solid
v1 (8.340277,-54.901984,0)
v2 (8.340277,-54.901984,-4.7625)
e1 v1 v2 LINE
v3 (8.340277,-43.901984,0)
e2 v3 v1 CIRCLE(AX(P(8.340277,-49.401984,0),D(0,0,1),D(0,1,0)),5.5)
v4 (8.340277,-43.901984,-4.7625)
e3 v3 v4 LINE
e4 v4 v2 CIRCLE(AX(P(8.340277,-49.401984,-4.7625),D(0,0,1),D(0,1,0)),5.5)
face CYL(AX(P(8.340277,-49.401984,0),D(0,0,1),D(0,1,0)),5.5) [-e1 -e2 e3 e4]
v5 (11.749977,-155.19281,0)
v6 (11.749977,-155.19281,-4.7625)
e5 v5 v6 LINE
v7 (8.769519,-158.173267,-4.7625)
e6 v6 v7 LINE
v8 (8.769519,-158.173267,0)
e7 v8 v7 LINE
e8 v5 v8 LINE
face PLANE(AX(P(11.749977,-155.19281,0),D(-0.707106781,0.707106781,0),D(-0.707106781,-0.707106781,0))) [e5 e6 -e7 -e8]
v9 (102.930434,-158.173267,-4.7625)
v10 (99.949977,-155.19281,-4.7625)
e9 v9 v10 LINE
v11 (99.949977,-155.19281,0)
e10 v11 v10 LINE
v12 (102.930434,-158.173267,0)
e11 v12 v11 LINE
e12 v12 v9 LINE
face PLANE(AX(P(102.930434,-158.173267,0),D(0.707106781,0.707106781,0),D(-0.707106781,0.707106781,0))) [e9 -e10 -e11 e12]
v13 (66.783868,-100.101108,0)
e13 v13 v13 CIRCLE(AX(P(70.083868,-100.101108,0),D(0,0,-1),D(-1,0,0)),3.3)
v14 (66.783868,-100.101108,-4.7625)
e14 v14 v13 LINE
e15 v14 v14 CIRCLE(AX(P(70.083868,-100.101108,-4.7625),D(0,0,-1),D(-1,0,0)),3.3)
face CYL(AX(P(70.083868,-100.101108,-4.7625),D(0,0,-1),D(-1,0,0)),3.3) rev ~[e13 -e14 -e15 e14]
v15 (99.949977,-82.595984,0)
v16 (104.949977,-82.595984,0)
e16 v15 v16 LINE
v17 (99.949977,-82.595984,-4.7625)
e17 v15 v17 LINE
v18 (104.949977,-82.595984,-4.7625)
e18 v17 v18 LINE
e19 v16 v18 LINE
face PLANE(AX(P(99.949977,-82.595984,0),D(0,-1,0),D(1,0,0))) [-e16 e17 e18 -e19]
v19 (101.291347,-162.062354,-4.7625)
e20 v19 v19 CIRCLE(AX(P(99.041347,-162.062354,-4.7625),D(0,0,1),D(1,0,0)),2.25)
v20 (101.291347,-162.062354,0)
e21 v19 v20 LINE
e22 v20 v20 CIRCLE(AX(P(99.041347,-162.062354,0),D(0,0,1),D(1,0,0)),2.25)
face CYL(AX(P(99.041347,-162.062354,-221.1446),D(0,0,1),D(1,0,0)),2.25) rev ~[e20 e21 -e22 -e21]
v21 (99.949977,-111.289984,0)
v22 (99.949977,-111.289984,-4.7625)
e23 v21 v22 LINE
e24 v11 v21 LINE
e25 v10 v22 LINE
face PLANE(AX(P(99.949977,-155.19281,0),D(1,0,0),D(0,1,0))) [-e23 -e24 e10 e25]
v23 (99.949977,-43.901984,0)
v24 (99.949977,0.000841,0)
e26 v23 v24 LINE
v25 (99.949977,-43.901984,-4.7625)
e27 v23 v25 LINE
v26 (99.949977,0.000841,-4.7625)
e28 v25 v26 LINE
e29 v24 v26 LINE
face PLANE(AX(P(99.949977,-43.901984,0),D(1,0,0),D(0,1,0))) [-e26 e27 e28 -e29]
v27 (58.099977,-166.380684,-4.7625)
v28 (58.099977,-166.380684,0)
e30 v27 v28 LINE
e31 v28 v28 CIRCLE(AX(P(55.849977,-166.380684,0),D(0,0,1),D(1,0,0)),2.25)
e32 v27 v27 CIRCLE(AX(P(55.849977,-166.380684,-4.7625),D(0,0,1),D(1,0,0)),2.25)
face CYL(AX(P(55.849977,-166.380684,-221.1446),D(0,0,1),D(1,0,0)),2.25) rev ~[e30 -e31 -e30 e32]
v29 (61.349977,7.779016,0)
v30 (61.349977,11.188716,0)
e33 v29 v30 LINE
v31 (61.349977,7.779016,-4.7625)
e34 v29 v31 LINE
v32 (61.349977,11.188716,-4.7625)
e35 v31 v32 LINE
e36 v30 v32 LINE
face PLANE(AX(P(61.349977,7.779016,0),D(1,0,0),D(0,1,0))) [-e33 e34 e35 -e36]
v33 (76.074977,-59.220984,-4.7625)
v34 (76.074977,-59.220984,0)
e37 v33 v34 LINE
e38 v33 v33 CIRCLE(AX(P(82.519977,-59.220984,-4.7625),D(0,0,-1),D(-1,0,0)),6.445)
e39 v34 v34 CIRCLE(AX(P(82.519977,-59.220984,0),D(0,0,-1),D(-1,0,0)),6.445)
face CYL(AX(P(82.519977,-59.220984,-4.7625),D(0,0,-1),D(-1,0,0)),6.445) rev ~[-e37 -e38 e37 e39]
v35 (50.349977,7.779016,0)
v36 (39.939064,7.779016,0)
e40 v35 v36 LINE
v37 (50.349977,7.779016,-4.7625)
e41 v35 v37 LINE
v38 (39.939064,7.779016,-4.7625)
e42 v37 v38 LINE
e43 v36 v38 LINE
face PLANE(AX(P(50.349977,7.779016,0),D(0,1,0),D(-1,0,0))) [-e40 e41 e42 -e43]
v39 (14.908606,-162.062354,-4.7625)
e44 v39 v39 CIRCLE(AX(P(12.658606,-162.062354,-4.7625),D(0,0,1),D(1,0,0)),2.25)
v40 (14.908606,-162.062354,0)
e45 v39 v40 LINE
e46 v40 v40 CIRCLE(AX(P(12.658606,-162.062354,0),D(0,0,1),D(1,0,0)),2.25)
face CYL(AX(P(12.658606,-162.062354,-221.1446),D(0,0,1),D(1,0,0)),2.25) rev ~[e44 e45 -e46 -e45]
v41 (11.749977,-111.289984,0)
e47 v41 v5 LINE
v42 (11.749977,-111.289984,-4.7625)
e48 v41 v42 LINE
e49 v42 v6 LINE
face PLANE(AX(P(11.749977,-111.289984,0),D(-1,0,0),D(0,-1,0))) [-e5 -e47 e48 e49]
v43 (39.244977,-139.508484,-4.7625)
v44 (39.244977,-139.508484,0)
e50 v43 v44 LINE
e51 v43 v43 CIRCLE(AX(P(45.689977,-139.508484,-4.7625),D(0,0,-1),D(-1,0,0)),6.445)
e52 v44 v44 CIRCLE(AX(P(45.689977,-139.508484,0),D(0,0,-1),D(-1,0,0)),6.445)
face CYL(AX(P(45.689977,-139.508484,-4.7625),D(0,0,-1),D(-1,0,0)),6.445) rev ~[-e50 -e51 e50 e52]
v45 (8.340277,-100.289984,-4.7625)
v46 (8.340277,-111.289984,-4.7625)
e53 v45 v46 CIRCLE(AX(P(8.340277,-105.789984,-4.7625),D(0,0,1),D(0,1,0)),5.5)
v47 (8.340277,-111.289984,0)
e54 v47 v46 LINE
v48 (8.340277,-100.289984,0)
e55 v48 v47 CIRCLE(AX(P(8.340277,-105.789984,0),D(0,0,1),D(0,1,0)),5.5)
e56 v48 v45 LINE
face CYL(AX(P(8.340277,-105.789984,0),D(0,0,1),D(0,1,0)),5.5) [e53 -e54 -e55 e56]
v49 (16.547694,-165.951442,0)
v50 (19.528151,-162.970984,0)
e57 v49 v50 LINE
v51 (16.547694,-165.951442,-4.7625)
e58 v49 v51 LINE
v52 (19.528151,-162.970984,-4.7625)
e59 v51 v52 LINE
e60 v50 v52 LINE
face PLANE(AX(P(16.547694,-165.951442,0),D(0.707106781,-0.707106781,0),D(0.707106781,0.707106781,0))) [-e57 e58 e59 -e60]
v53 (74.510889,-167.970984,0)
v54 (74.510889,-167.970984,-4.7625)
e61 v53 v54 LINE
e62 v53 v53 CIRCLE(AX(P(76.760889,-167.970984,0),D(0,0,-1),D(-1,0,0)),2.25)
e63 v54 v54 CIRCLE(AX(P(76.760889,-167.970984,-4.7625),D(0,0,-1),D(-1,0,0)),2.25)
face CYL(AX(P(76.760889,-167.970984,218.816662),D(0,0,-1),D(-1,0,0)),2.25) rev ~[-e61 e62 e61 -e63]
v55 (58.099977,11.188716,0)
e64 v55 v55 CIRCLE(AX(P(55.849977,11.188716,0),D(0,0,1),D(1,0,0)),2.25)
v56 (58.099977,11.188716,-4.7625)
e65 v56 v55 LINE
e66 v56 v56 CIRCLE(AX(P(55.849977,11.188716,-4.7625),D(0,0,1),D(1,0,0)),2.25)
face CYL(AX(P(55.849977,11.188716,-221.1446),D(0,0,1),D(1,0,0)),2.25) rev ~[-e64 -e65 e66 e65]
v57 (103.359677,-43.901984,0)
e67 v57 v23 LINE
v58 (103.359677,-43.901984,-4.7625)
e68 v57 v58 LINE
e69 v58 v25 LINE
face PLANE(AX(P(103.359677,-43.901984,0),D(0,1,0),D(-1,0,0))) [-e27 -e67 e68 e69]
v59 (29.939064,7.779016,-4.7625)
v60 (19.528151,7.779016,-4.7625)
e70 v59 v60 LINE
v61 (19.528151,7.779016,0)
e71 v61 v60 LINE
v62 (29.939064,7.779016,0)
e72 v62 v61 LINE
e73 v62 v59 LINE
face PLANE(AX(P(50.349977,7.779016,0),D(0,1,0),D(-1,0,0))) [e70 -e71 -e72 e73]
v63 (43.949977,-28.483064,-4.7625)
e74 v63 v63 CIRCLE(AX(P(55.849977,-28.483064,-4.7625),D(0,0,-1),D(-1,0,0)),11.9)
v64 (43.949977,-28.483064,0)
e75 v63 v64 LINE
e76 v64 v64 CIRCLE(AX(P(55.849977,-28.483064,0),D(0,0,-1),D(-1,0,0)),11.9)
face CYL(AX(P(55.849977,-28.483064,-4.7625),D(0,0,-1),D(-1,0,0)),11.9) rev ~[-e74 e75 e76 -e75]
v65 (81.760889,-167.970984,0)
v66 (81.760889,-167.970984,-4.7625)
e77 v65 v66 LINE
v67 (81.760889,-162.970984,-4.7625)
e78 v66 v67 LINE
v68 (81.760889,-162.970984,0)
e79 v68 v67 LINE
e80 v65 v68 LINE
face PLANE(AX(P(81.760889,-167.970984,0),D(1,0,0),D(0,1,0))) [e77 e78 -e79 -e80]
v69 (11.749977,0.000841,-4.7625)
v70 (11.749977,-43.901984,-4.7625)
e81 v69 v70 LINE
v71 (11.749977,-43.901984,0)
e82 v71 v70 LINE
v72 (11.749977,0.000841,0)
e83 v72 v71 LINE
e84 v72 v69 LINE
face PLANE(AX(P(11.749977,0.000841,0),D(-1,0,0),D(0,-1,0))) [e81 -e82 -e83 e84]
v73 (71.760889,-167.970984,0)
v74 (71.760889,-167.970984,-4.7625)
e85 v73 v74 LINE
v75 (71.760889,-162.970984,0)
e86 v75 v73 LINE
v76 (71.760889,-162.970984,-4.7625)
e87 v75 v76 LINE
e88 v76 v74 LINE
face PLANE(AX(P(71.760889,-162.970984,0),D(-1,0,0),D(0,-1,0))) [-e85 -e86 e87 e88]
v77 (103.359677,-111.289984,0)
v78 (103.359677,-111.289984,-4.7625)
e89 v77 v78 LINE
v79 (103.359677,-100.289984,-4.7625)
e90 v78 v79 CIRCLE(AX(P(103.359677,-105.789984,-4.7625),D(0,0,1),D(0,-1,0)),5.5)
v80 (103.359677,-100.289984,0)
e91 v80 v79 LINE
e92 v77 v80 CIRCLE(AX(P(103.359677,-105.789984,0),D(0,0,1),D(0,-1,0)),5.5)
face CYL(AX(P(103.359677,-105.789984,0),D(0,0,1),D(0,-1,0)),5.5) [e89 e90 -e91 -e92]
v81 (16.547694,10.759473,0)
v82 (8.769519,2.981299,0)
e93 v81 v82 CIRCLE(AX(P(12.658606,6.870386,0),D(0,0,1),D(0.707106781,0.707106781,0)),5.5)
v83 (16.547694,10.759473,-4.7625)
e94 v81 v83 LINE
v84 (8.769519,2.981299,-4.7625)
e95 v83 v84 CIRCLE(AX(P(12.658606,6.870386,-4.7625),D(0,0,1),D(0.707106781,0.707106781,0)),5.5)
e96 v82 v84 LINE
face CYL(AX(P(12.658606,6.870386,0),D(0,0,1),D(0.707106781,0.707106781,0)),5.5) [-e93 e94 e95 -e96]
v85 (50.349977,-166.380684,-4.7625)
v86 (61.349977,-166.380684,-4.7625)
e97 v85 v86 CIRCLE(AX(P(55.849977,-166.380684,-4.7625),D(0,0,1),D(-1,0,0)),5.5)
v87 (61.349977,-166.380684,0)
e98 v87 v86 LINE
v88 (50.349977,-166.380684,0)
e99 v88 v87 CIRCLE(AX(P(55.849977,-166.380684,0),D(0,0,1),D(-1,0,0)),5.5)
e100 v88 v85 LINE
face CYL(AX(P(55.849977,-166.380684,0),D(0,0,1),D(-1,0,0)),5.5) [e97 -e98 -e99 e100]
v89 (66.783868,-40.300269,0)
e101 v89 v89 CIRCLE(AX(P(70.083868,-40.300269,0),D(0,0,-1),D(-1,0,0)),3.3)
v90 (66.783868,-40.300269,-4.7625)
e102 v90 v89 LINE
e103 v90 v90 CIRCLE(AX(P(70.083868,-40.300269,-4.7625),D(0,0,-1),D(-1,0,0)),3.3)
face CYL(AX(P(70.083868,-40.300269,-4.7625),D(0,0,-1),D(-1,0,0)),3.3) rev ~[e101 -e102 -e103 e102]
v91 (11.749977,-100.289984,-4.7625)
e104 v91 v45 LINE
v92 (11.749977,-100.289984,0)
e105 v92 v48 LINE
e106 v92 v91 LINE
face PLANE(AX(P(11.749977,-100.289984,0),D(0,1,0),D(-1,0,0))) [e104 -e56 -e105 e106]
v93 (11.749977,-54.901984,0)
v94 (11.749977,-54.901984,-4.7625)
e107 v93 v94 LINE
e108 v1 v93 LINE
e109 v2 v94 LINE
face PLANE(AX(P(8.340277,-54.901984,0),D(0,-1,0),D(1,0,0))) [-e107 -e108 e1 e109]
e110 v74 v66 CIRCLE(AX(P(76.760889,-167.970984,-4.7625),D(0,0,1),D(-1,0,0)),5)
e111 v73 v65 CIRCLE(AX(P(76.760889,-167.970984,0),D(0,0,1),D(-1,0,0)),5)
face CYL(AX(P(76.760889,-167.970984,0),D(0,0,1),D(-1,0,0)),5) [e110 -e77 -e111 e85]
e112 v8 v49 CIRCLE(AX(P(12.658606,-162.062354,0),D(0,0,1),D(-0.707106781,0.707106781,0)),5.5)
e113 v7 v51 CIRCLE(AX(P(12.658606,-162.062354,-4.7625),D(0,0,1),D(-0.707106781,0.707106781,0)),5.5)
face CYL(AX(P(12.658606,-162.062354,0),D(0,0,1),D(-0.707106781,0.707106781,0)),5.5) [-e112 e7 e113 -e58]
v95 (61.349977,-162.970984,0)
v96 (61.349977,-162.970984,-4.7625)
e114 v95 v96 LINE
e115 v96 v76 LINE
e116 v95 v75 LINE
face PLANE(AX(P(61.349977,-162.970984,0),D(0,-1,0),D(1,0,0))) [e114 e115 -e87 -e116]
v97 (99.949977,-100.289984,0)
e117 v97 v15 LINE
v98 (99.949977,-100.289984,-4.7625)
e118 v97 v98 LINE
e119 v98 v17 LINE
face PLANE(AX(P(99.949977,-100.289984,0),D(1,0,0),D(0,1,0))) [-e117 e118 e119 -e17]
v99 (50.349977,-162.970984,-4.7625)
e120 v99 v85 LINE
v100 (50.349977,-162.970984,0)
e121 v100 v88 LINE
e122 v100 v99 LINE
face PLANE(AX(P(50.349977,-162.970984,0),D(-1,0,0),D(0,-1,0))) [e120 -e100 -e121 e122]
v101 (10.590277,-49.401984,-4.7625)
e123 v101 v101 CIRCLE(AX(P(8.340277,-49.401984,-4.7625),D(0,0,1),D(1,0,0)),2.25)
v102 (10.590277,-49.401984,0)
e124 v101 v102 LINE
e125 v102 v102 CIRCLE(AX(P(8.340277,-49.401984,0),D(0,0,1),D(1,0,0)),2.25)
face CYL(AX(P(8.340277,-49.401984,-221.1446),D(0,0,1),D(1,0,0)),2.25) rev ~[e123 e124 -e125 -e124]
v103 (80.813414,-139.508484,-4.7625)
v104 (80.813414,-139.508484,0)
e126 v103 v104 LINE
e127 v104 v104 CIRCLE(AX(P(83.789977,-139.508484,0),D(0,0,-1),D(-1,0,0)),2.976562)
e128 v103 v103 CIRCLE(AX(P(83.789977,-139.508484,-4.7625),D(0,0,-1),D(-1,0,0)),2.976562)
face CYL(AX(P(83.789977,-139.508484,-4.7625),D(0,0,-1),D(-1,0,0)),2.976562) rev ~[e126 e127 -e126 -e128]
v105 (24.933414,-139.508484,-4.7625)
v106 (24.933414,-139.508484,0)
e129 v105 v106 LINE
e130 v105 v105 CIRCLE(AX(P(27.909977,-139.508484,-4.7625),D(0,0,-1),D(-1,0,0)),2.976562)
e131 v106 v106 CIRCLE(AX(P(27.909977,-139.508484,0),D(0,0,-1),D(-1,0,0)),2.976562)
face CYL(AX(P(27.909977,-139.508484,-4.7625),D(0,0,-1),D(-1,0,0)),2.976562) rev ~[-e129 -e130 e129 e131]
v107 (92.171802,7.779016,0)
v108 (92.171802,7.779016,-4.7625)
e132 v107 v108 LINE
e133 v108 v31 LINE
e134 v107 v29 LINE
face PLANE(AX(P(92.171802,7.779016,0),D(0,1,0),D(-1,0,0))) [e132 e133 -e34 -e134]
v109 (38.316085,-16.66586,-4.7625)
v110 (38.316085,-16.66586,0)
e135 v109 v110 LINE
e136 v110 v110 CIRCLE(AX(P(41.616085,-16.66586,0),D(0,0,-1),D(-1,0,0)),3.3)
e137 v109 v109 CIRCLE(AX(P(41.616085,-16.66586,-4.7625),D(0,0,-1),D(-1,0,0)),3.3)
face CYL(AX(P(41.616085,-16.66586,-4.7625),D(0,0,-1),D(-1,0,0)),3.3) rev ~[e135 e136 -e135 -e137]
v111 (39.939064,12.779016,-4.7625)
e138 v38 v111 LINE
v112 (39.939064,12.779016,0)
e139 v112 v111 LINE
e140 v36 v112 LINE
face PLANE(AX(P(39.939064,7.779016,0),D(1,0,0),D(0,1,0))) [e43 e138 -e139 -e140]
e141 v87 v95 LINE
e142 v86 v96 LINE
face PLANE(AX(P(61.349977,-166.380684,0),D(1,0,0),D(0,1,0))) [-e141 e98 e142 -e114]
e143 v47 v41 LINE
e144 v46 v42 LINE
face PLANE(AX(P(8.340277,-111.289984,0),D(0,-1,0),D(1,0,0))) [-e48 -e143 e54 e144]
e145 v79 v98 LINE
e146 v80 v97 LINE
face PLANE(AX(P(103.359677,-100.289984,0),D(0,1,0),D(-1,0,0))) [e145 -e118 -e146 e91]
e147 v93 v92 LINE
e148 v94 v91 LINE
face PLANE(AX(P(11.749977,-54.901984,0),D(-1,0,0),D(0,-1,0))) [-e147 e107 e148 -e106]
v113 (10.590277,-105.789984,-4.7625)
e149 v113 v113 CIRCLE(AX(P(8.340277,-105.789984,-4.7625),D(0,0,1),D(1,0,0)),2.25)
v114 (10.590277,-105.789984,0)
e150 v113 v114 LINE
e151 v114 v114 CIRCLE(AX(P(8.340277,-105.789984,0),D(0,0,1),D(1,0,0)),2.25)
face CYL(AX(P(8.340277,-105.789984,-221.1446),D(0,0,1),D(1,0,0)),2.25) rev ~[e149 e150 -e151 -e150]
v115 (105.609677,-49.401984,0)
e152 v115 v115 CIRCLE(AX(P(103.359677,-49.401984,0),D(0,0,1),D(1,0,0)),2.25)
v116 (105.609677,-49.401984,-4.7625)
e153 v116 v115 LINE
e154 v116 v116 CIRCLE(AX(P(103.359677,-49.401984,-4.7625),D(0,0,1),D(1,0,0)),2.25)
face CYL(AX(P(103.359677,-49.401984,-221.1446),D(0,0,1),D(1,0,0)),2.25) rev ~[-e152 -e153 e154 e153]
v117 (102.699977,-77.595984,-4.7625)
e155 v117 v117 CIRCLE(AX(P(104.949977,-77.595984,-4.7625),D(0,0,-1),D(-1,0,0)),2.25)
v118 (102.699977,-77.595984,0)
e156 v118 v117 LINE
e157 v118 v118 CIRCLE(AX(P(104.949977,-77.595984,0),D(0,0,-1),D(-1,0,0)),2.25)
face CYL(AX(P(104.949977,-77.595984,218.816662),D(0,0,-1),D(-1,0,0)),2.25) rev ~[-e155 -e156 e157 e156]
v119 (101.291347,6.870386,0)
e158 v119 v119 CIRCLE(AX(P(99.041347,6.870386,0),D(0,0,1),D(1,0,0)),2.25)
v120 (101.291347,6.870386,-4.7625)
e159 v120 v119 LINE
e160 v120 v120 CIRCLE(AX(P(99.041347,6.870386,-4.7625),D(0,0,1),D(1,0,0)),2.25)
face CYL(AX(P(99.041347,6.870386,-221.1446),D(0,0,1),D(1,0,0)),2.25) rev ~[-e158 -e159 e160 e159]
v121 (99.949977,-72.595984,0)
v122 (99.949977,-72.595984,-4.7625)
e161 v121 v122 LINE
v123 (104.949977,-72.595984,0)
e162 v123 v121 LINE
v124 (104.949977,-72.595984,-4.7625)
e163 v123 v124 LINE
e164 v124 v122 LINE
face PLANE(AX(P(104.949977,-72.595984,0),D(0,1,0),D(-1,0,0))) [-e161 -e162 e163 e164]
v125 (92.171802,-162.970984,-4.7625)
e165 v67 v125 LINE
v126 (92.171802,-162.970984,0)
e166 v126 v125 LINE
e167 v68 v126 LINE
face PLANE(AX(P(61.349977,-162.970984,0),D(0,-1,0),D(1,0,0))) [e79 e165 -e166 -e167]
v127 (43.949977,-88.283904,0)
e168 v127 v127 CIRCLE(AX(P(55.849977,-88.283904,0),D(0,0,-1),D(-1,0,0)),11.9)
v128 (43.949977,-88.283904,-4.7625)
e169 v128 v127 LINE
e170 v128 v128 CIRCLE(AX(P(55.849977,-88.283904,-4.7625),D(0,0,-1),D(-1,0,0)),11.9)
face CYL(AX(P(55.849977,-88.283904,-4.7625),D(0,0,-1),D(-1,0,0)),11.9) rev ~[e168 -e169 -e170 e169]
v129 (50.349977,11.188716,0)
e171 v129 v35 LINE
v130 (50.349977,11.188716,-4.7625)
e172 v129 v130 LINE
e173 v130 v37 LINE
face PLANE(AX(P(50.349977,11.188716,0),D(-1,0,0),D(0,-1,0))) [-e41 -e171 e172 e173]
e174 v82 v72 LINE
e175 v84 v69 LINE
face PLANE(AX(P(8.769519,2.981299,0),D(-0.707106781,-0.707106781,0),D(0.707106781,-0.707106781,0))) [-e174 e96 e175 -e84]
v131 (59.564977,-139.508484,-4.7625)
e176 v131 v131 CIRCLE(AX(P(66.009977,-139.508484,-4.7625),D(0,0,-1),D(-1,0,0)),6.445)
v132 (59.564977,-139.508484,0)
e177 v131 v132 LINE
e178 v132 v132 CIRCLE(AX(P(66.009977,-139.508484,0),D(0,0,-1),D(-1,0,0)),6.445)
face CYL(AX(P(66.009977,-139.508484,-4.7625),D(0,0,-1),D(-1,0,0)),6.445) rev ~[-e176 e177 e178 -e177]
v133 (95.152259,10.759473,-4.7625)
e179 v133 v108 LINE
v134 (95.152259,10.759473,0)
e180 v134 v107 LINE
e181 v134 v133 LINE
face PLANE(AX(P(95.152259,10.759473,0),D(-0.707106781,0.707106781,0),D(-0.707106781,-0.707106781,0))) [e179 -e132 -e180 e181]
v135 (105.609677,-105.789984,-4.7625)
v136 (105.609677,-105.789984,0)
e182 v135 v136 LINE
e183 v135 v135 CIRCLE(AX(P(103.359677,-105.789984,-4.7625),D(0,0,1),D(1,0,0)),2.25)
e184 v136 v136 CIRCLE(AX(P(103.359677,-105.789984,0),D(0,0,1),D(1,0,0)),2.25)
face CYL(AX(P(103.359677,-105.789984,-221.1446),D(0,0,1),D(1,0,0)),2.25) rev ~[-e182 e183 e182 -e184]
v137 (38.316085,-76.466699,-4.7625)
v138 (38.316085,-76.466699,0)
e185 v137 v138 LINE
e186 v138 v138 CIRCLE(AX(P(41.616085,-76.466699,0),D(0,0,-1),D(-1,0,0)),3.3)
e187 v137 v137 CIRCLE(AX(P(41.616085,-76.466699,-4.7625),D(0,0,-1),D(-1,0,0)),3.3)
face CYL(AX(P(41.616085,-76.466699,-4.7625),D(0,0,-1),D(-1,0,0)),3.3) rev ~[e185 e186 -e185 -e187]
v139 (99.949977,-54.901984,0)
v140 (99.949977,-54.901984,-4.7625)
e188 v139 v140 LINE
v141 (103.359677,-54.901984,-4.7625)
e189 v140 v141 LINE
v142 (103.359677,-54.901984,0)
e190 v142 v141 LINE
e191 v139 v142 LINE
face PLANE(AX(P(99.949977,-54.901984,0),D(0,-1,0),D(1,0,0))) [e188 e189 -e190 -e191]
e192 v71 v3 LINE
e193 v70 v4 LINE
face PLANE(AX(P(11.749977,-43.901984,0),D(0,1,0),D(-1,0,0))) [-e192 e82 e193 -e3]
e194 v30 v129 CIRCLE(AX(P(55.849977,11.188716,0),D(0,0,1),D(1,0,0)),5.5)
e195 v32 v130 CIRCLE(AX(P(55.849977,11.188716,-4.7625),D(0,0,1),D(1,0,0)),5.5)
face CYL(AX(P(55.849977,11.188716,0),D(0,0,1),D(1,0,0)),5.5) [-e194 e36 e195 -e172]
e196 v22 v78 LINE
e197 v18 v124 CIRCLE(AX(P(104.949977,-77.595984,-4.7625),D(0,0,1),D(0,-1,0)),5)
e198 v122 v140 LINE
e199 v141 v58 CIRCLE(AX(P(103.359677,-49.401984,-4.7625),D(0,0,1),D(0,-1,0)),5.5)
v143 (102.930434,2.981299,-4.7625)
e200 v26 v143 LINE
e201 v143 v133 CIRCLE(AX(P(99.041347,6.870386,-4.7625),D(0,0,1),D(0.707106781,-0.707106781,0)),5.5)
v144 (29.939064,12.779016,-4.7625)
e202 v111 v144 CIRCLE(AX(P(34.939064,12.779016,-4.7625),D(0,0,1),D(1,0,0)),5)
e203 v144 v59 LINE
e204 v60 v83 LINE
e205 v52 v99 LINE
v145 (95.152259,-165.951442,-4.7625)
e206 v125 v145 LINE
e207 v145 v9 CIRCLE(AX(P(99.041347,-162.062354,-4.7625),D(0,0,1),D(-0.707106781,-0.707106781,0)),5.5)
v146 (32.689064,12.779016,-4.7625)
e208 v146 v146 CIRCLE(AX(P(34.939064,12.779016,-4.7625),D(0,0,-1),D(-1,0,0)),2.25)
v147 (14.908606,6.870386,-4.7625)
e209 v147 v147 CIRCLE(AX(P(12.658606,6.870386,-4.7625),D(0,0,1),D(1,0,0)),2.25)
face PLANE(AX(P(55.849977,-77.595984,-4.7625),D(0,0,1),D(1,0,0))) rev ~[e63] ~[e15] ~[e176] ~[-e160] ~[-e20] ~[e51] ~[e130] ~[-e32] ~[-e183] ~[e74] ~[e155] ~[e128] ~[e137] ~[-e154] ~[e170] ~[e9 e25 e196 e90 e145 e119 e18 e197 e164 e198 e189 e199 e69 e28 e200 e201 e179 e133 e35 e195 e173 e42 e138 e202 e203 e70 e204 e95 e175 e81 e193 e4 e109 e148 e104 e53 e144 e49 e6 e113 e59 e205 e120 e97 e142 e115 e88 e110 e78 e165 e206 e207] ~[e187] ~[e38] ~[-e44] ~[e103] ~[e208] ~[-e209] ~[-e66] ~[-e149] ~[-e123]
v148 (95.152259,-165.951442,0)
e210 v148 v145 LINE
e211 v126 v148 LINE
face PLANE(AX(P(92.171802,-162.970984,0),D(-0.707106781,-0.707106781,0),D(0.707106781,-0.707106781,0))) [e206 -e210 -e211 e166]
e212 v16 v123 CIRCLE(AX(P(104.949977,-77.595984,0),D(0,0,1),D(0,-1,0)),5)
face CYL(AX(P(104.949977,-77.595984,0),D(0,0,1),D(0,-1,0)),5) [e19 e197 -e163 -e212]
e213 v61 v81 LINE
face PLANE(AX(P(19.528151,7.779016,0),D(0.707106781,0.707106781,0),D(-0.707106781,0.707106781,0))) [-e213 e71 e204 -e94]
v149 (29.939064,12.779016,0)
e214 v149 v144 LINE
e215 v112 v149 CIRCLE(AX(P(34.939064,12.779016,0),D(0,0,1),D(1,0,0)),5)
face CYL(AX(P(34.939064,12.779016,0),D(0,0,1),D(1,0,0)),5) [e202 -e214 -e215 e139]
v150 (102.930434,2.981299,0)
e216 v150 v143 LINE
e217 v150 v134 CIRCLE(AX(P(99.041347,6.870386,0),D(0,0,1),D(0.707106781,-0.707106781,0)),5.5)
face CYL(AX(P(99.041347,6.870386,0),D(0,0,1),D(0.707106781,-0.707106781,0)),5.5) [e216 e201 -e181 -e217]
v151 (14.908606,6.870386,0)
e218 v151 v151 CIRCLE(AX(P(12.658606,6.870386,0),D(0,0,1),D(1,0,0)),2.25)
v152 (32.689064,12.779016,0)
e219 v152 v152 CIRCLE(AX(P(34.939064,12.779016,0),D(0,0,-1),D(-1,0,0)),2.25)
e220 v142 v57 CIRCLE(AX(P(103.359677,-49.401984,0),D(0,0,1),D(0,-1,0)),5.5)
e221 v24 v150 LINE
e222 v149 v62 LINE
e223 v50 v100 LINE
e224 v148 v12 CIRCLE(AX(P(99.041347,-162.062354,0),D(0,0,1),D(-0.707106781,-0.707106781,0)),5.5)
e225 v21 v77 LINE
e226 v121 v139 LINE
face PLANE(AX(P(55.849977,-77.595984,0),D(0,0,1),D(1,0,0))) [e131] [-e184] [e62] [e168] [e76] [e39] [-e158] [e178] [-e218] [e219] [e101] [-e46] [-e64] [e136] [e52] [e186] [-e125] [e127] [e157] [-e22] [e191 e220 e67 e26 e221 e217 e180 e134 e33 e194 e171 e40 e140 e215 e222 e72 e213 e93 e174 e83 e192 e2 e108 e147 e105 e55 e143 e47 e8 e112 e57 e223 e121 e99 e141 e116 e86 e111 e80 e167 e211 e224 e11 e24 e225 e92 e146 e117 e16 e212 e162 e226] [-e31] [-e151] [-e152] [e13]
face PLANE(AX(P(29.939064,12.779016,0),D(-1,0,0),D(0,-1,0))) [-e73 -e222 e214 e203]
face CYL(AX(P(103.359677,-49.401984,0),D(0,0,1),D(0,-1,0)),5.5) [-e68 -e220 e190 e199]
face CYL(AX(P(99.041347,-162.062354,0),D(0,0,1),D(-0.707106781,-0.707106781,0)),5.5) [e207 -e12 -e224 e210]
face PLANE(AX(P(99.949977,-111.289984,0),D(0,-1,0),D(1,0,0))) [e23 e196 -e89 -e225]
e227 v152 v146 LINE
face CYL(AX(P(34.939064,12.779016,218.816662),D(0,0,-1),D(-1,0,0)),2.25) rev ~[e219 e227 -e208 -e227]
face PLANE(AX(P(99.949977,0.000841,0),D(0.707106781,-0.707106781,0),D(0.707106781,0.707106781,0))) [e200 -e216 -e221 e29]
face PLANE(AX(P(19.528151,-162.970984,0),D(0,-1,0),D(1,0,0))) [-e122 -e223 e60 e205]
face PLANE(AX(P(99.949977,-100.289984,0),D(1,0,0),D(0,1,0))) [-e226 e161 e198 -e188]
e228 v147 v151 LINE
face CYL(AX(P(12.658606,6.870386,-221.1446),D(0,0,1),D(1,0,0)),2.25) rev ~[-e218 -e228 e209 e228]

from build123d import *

# Parameters (mm, degrees)
BOSS_EXTRUDE1_DEPTH  = 4.7625
M4_CLEARANCE_HOLE1_D = 4.5
SKETCH4_R            = 3.3
SKETCH4_R_2          = 2.9765625
SKETCH4_R_3          = 6.445
SKETCH4_R_4          = 11.9
CUT_EXTRUDE1_DEPTH   = 4.7625
BOSS_EXTRUDE3_DEPTH  = 4.7625
M4_CLEARANCE_HOLE2_D = 4.5


with BuildPart() as part:
    # Sketch1 → Boss-Extrude1 (new body)
    with BuildSketch(Plane.XY):
        with BuildLine():
            Line((50.349976536, 7.779015878), (19.528151129, 7.779015878))
            Line((19.528151129, 7.779015878), (16.547693582, 10.759473425))
            ThreePointArc((16.547693582, 10.759473425), (8.769518989, 10.759473425), (8.769518989, 2.981298831))
            Line((8.769518989, 2.981298831), (11.749976536, 0.000841285))
            Line((11.749976536, 0.000841285), (11.749976536, -43.901984122))
            Line((11.749976536, -43.901984122), (8.340276536, -43.901984122))
            ThreePointArc((8.340276536, -43.901984122), (2.840276536, -49.401984122), (8.340276536, -54.901984122))
            Line((8.340276536, -54.901984122), (11.749976536, -54.901984122))
            Line((11.749976536, -54.901984122), (11.749976536, -100.289984122))
            Line((11.749976536, -100.289984122), (8.340276536, -100.289984122))
            ThreePointArc((8.340276536, -100.289984122), (2.840276536, -105.789984122), (8.340276536, -111.289984122))
            Line((8.340276536, -111.289984122), (11.749976536, -111.289984122))
            Line((11.749976536, -111.289984122), (11.749976536, -155.192809529))
            Line((11.749976536, -155.192809529), (8.769518989, -158.173267075))
            ThreePointArc((8.769518989, -158.173267075), (8.769518989, -165.951441668), (16.547693582, -165.951441668))
            Line((16.547693582, -165.951441668), (19.528151129, -162.970984122))
            Line((19.528151129, -162.970984122), (50.349976536, -162.970984122))
            Line((50.349976536, -162.970984122), (50.349976536, -166.380684122))
            ThreePointArc((50.349976536, -166.380684122), (55.849976536, -171.880684122), (61.349976536, -166.380684122))
            Line((61.349976536, -166.380684122), (61.349976536, -162.970984122))
            Line((61.349976536, -162.970984122), (92.171801943, -162.970984122))
            Line((92.171801943, -162.970984122), (95.152259489, -165.951441668))
            ThreePointArc((95.152259489, -165.951441668), (102.930434082, -165.951441668), (102.930434082, -158.173267075))
            Line((102.930434082, -158.173267075), (99.949976536, -155.192809529))
            Line((99.949976536, -155.192809529), (99.949976536, -111.289984122))
            Line((99.949976536, -111.289984122), (103.359676536, -111.289984122))
            ThreePointArc((103.359676536, -111.289984122), (108.859676536, -105.789984122), (103.359676536, -100.289984122))
            Line((103.359676536, -100.289984122), (99.949976536, -100.289984122))
            Line((99.949976536, -100.289984122), (99.949976536, -54.901984122))
            Line((99.949976536, -54.901984122), (103.359676536, -54.901984122))
            ThreePointArc((103.359676536, -54.901984122), (108.859676536, -49.401984122), (103.359676536, -43.901984122))
            Line((103.359676536, -43.901984122), (99.949976536, -43.901984122))
            Line((99.949976536, -43.901984122), (99.949976536, 0.000841285))
            Line((99.949976536, 0.000841285), (102.930434082, 2.981298831))
            ThreePointArc((102.930434082, 2.981298831), (102.930434082, 10.759473425), (95.152259489, 10.759473425))
            Line((95.152259489, 10.759473425), (92.171801943, 7.779015878))
            Line((92.171801943, 7.779015878), (61.349976536, 7.779015878))
            Line((61.349976536, 7.779015878), (61.349976536, 11.188715878))
            ThreePointArc((61.349976536, 11.188715878), (55.849976536, 16.688715878), (50.349976536, 11.188715878))
            Line((50.349976536, 11.188715878), (50.349976536, 7.779015878))
        make_face()
    extrude(amount=-BOSS_EXTRUDE1_DEPTH)

    # M4 Clearance Hole1 (through all)
    with Locations(Plane(origin=(0, 0, -4.7625), x_dir=(-1, 0, 0), z_dir=(0, 0, -1))):
        with Locations((-12.658606286, -162.062354372), (-55.849976536, -166.380684122), (-99.041346785, -162.062354372), (-103.359676536, -105.789984122), (-103.359676536, -49.401984122), (-99.041346785, 6.870386128), (-12.658606286, 6.870386128), (-8.340276536, -49.401984122), (-8.340276536, -105.789984122), (-55.849976536, 11.188715878)):
            Hole(M4_CLEARANCE_HOLE1_D / 2)

    # Sketch4 → Cut-Extrude1 (cut)
    with BuildSketch(Plane(origin=(0, 0, -4.7625), x_dir=(-1, 0, 0), z_dir=(0, 0, -1))):
        with Locations((-41.616084767, -16.665859852)):
            Circle(SKETCH4_R)
        with Locations((-70.083868304, -40.3002691)):
            Circle(SKETCH4_R)
        with Locations((-27.909976536, -139.508484122)):
            Circle(SKETCH4_R_2)
        with Locations((-41.616084767, -76.466699143)):
            Circle(SKETCH4_R)
        with Locations((-83.789976536, -139.508484122)):
            Circle(SKETCH4_R_2)
        with Locations((-70.083868304, -100.101108391)):
            Circle(SKETCH4_R)
        with Locations((-66.009976536, -139.508484122)):
            Circle(SKETCH4_R_3)
        with Locations((-82.519976536, -59.220984122)):
            Circle(SKETCH4_R_3)
        with Locations((-45.689976536, -139.508484122)):
            Circle(SKETCH4_R_3)
        with Locations((-55.849976536, -88.283903767)):
            Circle(SKETCH4_R_4)
        with Locations((-55.849976536, -28.483064476)):
            Circle(SKETCH4_R_4)
    extrude(amount=-CUT_EXTRUDE1_DEPTH, mode=Mode.SUBTRACT)

    # Sketch6 → Boss-Extrude3 (add)
    with BuildSketch(Plane.XY):
        with BuildLine():
            Line((39.939063832, 7.779015878), (39.939063832, 12.779015878))
            ThreePointArc((39.939063832, 12.779015878), (34.939063832, 17.779015878), (29.939063832, 12.779015878))
            Line((29.939063832, 12.779015878), (29.939063832, 7.779015878))
            Line((29.939063832, 7.779015878), (39.939063832, 7.779015878))
        make_face()
        with BuildLine():
            Line((81.760889239, -162.970984122), (71.760889239, -162.970984122))
            Line((71.760889239, -162.970984122), (71.760889239, -167.970984122))
            ThreePointArc((71.760889239, -167.970984122), (76.760889239, -172.970984122), (81.760889239, -167.970984122))
            Line((81.760889239, -167.970984122), (81.760889239, -162.970984122))
        make_face()
        with BuildLine():
            Line((99.949976536, -72.595984122), (99.949976536, -82.595984122))
            Line((99.949976536, -82.595984122), (104.949976536, -82.595984122))
            ThreePointArc((104.949976536, -82.595984122), (109.949976536, -77.595984122), (104.949976536, -72.595984122))
            Line((104.949976536, -72.595984122), (99.949976536, -72.595984122))
        make_face()
    extrude(amount=-BOSS_EXTRUDE3_DEPTH)

    # M4 Clearance Hole2 (through all)
    with Locations(Plane.XY):
        with Locations((34.939063832, 12.779015878), (104.949976536, -77.595984122), (76.760889239, -167.970984122)):
            Hole(M4_CLEARANCE_HOLE2_D / 2)


solid = part.part
